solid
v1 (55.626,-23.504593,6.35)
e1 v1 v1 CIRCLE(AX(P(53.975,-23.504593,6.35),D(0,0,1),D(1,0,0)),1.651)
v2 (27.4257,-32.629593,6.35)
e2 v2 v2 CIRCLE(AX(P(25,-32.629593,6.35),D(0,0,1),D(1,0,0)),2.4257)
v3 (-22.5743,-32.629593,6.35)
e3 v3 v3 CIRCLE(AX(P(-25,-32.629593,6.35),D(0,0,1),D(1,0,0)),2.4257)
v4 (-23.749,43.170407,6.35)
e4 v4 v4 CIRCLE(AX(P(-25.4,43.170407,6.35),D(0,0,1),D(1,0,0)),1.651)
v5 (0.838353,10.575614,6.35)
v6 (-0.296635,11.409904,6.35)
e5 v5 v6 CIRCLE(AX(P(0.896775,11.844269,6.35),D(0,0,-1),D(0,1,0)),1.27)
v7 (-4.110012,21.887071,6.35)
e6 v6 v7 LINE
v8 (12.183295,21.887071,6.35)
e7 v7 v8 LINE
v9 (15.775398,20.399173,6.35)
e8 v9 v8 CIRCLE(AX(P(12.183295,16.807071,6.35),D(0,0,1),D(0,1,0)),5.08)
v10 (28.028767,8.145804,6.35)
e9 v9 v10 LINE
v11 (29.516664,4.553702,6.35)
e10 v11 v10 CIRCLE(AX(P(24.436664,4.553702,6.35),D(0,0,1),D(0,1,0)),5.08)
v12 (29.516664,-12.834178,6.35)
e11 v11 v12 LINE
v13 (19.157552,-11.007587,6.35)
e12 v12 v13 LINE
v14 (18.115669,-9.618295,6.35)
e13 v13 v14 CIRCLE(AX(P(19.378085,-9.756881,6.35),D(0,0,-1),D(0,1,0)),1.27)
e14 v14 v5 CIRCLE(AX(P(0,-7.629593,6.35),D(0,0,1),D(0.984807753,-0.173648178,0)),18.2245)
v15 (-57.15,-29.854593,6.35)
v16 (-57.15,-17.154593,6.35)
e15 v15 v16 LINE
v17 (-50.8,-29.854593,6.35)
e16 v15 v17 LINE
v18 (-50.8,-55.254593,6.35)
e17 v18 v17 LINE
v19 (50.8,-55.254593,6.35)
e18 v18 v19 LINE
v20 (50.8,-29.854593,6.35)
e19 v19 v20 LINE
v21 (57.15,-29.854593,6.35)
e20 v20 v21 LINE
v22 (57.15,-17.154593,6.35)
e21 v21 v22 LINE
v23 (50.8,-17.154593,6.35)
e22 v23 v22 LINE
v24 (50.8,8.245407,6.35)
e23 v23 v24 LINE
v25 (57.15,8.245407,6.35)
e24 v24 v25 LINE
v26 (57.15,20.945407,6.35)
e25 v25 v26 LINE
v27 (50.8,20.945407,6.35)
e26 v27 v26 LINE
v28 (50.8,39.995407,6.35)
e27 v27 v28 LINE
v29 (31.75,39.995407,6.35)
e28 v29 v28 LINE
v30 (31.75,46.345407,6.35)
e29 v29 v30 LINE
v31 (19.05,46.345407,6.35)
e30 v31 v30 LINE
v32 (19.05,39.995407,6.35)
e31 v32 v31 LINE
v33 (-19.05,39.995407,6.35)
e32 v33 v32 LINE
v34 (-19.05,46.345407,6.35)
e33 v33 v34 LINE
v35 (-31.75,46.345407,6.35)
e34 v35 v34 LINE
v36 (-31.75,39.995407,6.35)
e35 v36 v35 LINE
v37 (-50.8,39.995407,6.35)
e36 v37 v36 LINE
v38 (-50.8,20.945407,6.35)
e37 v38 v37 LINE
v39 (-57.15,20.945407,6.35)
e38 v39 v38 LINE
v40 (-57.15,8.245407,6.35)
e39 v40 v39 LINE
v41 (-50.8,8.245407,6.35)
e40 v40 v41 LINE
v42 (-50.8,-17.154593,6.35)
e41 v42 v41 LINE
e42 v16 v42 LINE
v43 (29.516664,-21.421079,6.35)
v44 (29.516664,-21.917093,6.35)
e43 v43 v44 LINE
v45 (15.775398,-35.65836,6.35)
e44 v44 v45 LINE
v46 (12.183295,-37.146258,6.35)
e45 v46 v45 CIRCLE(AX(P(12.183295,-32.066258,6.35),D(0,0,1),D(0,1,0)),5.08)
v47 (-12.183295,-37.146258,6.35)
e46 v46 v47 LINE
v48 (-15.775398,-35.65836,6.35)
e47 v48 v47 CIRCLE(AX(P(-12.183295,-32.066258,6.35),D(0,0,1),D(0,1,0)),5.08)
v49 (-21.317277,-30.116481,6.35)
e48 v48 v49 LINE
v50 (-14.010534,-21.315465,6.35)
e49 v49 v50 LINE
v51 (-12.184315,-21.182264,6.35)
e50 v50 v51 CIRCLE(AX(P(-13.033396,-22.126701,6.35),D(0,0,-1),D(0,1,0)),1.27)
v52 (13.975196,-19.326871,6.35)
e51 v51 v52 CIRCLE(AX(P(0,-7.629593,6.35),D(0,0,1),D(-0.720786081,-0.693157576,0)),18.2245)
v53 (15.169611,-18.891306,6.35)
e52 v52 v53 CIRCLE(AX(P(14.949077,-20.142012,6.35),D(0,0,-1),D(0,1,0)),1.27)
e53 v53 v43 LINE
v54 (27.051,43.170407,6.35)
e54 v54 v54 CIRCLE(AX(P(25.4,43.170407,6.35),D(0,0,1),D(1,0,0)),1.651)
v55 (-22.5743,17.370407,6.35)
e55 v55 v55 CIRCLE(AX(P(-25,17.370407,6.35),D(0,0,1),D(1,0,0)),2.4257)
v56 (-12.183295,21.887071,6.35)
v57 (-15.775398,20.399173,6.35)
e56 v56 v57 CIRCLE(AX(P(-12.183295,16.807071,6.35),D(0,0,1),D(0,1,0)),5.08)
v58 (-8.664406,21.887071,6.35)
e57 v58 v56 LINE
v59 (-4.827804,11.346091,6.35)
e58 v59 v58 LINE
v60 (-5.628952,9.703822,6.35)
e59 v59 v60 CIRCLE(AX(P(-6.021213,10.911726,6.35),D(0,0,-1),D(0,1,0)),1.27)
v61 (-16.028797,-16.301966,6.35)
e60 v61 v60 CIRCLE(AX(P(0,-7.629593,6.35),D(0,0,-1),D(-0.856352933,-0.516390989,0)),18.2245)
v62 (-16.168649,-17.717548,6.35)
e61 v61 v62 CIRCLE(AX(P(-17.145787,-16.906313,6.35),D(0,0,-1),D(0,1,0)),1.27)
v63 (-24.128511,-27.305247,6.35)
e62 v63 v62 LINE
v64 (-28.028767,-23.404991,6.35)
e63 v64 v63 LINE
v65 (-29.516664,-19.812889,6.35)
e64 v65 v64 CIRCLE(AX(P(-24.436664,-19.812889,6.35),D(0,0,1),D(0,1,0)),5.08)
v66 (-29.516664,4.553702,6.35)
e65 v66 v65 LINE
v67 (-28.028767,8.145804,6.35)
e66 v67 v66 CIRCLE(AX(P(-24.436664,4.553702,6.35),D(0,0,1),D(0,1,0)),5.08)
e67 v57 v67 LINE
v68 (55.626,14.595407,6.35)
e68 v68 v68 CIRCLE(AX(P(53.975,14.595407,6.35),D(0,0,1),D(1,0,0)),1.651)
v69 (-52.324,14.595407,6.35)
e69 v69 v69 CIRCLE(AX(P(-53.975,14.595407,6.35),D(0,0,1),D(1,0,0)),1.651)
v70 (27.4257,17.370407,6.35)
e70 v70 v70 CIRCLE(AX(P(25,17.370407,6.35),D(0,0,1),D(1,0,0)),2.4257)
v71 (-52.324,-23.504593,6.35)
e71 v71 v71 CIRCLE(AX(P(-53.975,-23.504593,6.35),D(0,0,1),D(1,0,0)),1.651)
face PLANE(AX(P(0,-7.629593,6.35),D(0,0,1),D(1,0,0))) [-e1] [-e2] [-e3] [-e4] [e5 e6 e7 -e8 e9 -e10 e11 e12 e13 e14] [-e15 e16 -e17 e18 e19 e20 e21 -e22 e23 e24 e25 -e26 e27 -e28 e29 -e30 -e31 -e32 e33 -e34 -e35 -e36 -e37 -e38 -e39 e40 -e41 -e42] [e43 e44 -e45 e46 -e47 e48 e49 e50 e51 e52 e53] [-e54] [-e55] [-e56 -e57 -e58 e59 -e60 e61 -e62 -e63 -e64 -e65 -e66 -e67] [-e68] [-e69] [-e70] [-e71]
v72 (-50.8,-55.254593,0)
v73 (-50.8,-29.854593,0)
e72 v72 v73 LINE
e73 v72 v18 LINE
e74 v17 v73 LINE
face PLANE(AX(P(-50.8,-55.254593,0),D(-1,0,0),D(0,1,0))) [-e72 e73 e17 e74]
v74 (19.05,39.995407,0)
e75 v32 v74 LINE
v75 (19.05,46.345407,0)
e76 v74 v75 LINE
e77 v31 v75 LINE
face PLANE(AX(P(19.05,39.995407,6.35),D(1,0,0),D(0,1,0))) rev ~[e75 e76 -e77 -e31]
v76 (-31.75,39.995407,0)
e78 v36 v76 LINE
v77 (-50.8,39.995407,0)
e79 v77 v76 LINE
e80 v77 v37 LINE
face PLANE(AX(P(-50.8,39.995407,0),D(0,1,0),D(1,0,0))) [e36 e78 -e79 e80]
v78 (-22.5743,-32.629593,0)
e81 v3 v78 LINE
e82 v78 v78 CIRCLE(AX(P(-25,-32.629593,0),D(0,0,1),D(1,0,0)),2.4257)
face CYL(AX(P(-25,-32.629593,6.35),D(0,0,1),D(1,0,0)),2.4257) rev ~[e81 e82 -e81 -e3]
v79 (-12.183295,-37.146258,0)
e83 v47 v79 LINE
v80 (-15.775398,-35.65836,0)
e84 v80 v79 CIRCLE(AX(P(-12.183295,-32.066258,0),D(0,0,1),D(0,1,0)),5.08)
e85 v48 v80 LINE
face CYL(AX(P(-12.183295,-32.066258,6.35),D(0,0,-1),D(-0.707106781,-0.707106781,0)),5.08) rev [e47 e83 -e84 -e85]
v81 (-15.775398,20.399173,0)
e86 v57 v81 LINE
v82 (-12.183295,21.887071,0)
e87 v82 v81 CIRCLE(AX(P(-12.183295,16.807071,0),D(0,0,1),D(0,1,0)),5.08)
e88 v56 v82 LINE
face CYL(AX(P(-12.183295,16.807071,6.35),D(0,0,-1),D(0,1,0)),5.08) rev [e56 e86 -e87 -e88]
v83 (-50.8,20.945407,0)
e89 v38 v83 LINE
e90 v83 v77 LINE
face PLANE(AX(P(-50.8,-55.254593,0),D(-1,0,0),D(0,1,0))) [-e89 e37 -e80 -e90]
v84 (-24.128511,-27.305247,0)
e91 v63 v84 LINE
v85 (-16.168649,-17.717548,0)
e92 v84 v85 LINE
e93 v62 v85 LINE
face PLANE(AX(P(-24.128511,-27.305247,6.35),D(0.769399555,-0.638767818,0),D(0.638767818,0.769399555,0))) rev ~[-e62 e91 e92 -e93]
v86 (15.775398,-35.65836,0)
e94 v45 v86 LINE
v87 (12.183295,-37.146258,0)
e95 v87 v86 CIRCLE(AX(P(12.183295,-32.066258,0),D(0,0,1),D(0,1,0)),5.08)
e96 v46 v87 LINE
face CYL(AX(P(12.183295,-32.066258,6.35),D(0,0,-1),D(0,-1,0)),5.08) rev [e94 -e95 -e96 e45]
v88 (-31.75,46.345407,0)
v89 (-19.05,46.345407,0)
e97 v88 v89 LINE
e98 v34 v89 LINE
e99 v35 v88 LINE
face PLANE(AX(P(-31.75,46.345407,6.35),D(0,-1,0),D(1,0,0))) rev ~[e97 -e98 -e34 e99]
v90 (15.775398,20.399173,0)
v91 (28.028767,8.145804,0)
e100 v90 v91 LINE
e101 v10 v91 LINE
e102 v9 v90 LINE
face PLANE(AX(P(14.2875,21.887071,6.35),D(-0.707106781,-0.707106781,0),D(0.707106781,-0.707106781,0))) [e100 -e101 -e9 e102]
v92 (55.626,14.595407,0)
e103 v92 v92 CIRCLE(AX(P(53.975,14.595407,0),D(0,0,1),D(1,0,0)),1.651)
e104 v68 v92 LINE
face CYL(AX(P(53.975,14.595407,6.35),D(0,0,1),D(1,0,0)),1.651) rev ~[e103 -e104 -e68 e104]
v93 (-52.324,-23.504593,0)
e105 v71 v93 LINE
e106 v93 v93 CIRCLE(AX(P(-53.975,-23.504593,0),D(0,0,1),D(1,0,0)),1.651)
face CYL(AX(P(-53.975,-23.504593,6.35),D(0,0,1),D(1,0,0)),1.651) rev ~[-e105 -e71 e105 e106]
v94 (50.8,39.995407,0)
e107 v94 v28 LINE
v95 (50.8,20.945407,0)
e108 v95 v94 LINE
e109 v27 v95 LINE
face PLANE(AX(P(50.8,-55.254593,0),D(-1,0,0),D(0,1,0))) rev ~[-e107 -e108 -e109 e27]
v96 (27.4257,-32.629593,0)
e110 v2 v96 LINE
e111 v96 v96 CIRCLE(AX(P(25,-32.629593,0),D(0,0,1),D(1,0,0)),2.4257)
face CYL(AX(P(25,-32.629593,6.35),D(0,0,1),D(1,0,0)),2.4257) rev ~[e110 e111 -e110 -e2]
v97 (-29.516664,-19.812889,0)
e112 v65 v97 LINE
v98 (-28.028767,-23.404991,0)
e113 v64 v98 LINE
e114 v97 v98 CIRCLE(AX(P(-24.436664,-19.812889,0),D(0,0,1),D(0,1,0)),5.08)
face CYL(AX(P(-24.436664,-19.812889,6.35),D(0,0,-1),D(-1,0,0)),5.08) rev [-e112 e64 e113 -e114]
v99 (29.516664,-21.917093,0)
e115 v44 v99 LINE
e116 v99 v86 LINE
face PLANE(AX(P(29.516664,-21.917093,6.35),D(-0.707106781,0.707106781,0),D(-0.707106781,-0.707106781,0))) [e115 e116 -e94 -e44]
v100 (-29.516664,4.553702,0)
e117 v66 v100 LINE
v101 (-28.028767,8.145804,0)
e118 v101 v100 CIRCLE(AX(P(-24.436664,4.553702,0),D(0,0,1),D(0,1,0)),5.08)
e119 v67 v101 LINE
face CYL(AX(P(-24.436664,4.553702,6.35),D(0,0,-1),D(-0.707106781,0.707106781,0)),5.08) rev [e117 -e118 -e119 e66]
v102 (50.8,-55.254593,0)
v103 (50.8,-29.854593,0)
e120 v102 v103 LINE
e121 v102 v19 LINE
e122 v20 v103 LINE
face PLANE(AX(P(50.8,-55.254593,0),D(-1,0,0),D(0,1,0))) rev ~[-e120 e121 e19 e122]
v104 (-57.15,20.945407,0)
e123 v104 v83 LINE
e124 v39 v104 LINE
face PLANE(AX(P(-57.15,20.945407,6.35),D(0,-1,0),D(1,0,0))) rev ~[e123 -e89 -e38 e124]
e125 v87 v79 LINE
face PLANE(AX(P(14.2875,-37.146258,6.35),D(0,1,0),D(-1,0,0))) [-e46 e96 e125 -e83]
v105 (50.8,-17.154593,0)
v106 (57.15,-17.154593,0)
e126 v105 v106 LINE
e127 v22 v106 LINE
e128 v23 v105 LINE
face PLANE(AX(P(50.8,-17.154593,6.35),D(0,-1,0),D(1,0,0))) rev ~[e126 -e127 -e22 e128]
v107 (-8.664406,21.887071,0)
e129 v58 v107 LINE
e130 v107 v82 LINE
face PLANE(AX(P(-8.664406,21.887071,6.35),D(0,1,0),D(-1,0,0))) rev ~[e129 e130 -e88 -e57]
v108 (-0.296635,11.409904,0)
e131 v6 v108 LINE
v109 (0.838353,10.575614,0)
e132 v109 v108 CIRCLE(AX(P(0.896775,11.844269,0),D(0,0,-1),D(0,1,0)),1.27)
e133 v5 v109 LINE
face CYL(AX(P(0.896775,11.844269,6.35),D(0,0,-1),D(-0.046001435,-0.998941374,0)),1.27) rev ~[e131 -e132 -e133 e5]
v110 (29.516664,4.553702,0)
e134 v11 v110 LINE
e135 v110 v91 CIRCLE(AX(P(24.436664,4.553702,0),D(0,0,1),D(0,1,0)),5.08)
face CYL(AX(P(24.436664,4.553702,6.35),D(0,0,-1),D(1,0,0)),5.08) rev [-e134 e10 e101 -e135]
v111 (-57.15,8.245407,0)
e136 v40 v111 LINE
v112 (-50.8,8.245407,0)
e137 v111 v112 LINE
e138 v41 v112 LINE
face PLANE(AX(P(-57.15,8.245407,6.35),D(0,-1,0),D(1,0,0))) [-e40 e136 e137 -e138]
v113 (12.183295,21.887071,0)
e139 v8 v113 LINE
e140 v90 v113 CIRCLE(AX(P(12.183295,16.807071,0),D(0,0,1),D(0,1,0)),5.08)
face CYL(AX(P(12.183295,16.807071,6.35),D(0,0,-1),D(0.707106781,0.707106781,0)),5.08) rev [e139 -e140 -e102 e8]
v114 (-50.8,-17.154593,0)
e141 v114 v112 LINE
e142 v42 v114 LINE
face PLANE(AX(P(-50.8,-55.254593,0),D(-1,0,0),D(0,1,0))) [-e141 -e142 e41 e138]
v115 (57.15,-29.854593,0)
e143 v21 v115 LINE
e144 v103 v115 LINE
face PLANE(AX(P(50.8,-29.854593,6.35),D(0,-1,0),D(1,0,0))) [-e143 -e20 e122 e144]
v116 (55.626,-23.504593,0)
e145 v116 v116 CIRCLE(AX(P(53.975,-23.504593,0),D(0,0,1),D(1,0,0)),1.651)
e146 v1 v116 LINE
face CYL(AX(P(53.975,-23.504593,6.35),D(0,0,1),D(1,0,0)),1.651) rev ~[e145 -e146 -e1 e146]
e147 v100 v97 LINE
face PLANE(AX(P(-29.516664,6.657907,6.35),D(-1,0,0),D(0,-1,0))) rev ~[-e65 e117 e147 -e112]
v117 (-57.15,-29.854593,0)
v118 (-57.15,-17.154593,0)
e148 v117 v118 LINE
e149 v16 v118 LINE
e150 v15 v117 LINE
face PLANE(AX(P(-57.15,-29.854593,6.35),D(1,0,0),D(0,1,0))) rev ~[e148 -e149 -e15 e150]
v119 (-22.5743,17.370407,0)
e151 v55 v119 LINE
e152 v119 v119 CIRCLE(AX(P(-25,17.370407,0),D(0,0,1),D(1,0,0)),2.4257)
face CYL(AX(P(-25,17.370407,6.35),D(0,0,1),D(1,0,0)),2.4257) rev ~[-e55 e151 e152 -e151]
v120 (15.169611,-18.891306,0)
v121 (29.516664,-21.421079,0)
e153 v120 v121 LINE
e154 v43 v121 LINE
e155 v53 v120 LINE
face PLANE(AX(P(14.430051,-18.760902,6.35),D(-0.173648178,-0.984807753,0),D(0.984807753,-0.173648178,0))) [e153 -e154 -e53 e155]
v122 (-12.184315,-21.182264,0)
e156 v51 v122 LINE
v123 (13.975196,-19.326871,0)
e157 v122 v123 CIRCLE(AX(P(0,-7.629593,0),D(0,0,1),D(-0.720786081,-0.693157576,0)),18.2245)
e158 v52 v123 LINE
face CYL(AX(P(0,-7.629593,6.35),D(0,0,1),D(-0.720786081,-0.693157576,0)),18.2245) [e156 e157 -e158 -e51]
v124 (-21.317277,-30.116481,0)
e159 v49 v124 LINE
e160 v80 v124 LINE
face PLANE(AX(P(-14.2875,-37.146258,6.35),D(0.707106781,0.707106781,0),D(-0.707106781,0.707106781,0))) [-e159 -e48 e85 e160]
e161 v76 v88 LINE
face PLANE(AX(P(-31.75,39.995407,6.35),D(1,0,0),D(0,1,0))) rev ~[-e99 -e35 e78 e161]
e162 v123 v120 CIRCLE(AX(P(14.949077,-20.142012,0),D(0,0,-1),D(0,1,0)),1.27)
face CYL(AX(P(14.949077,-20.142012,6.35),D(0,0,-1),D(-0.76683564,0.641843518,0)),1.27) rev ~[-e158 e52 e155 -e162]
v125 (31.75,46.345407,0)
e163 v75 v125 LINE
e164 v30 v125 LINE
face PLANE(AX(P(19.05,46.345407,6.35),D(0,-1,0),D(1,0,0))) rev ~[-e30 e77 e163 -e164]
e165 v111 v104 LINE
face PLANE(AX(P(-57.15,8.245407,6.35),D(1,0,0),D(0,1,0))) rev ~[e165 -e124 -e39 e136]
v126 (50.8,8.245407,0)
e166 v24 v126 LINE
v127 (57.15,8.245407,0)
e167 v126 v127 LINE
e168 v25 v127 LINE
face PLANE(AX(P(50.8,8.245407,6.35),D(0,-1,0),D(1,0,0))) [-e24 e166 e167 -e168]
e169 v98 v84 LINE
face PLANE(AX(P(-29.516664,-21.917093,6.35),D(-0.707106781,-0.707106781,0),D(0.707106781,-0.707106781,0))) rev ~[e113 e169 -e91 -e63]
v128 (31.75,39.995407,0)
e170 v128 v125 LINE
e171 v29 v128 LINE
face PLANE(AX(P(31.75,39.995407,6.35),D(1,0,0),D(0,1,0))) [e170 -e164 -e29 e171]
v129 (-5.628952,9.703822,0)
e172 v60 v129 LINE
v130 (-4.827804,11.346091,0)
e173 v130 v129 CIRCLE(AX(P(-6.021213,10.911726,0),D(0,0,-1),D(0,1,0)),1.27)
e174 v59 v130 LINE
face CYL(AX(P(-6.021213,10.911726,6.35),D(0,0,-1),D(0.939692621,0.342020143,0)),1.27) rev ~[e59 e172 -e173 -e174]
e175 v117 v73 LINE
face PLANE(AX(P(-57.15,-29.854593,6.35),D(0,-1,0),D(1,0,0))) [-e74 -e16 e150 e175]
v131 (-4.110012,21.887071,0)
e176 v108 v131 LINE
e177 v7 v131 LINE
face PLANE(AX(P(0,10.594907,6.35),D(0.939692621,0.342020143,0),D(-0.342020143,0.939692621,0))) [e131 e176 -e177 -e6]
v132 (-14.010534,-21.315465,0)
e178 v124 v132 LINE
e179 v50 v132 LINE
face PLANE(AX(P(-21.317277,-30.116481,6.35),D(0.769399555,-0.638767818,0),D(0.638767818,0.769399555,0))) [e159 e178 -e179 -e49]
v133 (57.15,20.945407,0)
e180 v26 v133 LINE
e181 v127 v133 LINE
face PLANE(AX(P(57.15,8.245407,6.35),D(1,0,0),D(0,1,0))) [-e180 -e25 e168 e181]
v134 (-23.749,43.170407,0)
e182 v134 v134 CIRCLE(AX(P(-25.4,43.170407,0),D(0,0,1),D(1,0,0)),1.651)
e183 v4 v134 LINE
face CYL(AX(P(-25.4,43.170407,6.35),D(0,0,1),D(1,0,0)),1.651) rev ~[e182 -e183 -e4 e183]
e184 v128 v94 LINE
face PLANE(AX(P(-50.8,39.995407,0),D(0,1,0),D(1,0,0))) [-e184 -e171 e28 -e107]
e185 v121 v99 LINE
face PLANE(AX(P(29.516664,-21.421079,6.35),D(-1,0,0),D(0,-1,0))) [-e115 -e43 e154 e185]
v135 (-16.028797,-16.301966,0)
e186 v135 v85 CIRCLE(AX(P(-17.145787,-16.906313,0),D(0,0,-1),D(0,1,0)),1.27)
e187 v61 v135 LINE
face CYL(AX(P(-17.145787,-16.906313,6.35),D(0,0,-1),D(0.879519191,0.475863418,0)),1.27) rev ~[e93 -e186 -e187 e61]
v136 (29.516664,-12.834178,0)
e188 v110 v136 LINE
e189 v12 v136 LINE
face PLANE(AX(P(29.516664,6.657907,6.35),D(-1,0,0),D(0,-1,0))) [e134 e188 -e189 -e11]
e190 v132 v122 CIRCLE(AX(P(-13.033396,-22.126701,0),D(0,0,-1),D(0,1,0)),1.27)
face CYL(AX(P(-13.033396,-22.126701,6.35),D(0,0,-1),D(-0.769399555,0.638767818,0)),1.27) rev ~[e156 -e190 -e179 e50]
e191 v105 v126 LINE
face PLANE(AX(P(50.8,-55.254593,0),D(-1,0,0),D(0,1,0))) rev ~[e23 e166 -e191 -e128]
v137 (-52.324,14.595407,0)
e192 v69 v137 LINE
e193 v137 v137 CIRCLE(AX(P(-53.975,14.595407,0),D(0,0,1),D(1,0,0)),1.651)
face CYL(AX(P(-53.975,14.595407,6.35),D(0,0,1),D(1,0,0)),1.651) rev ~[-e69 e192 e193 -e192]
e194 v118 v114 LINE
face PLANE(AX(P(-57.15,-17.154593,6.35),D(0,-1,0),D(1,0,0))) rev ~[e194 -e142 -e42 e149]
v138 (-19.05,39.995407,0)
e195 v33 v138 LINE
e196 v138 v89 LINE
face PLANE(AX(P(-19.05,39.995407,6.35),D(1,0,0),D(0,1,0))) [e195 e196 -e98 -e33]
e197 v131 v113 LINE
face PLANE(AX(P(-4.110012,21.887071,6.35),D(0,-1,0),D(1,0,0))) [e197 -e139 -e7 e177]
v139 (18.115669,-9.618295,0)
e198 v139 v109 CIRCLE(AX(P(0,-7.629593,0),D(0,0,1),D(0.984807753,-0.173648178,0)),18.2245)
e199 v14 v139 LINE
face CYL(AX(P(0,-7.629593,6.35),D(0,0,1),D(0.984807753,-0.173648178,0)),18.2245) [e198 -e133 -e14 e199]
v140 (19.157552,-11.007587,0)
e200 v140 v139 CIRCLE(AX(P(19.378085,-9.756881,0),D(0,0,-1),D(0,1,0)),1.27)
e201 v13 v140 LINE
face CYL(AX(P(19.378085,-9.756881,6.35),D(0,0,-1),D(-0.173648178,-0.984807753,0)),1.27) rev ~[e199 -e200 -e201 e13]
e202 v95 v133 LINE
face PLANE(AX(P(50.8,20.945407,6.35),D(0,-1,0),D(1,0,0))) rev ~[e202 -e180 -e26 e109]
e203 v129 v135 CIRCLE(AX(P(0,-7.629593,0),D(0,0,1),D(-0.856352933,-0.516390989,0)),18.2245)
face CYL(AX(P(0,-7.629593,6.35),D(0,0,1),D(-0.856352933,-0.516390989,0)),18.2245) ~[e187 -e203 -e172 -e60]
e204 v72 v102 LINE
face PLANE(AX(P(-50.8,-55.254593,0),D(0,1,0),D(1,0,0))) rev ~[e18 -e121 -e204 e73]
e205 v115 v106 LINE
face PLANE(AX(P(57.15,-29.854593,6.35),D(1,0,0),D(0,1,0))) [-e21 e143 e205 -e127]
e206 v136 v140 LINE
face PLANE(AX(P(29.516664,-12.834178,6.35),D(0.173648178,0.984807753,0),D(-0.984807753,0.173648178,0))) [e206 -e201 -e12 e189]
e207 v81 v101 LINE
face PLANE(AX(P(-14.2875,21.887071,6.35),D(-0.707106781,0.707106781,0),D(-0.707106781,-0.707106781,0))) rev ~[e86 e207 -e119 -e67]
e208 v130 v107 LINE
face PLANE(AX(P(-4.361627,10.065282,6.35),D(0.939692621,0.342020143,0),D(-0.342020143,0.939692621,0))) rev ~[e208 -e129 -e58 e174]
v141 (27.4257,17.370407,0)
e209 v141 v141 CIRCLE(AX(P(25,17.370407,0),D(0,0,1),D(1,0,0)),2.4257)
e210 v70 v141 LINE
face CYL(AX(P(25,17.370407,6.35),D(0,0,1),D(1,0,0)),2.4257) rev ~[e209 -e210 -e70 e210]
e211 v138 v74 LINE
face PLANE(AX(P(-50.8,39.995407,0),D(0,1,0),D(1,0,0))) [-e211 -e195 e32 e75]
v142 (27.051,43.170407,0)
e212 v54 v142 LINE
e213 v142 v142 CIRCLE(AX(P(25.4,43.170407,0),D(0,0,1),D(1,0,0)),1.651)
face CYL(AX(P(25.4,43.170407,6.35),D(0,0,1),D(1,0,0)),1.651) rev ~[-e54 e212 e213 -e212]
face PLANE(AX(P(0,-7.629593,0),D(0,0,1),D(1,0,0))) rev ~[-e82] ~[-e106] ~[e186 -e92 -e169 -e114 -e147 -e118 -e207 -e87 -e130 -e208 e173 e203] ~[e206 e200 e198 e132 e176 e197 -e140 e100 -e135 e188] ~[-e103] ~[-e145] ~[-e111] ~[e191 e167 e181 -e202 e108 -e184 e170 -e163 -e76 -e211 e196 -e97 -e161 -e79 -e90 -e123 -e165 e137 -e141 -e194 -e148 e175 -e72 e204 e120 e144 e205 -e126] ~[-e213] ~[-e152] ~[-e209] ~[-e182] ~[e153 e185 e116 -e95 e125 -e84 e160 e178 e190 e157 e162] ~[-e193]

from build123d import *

# Parameters (mm, degrees)
SKETCH1_W           = 101.6
SKETCH1_H           = 95.25
BOSS_EXTRUDE1_DEPTH = 6.35
SKETCH2_W           = 12.7
SKETCH2_H           = 6.35
SKETCH2_R           = 1.651
SKETCH2_W_2         = 6.35
SKETCH2_H_2         = 12.7
BOSS_EXTRUDE2_DEPTH = 6.35
SKETCH5_R           = 2.4257
CUT_EXTRUDE1_DEPTH  = 80.746567925
FILLET1_R           = 5.08
FILLET2_R           = 1.27


with BuildPart() as part:
    # Sketch1 → Boss-Extrude1 (new body)
    with BuildSketch(Plane.XY):
        with Locations((0, -7.629593436)):
            Rectangle(SKETCH1_W, SKETCH1_H)
    extrude(amount=BOSS_EXTRUDE1_DEPTH)

    # Sketch2 → Boss-Extrude2 (add)
    # profile 1 of 6: a face of its own
    with BuildSketch(Plane.XY.offset(6.35)):
        with Locations((-25.4, 43.170406564)):
            Rectangle(SKETCH2_W, SKETCH2_H)
        with Locations((-25.4, 43.170406564)):
            Circle(SKETCH2_R, mode=Mode.SUBTRACT)
    # profile 2 of 6: a face of its own
    with BuildSketch(Plane.XY.offset(6.35)):
        with Locations((25.4, 43.170406564)):
            Rectangle(SKETCH2_W, SKETCH2_H)
        with Locations((25.4, 43.170406564)):
            Circle(SKETCH2_R, mode=Mode.SUBTRACT)
    # profile 3 of 6: a face of its own
    with BuildSketch(Plane.XY.offset(6.35)):
        with Locations((53.975, 14.595406564)):
            Rectangle(SKETCH2_W_2, SKETCH2_H_2)
        with Locations((53.975, 14.595406564)):
            Circle(SKETCH2_R, mode=Mode.SUBTRACT)
    # profile 4 of 6: a face of its own
    with BuildSketch(Plane.XY.offset(6.35)):
        with Locations((-53.975, 14.595406564)):
            Rectangle(SKETCH2_W_2, SKETCH2_H_2)
        with Locations((-53.975, 14.595406564)):
            Circle(SKETCH2_R, mode=Mode.SUBTRACT)
    # profile 5 of 6: a face of its own
    with BuildSketch(Plane.XY.offset(6.35)):
        with Locations((-53.975, -23.504593436)):
            Rectangle(SKETCH2_W_2, SKETCH2_H_2)
        with Locations((-53.975, -23.504593436)):
            Circle(SKETCH2_R, mode=Mode.SUBTRACT)
    # profile 6 of 6: a face of its own
    with BuildSketch(Plane.XY.offset(6.35)):
        with Locations((53.975, -23.504593436)):
            Rectangle(SKETCH2_W_2, SKETCH2_H_2)
        with Locations((53.975, -23.504593436)):
            Circle(SKETCH2_R, mode=Mode.SUBTRACT)
    extrude(amount=-BOSS_EXTRUDE2_DEPTH)

    # Sketch5 → Cut-Extrude1 (cut, through all)
    with BuildSketch(Plane.XY.offset(6.35)):
        with Locations((-25, 17.370406564)):
            Circle(SKETCH5_R)
        with Locations((25, 17.370406564)):
            Circle(SKETCH5_R)
        with Locations((25, -32.629593436)):
            Circle(SKETCH5_R)
        with Locations((-25, -32.629593436)):
            Circle(SKETCH5_R)
        with BuildLine():
            Line((-24.128510609, -27.305247108), (-15.606604031, -17.040561021))
            ThreePointArc((-15.606604031, -17.040561021), (-16.83342633, -0.646173195), (-4.361627061, 10.065281801))
            Line((-4.361627061, 10.065281801), (-8.664406389, 21.887070846))
            Line((-8.664406389, 21.887070846), (-14.2875, 21.887070846))
            Line((-14.2875, 21.887070846), (-29.516664282, 6.657906564))
            Line((-29.516664282, 6.657906564), (-29.516664282, -21.917093436))
            Line((-29.516664282, -21.917093436), (-24.128510609, -27.305247108))
        make_face()
        with BuildLine():
            Line((-21.317277104, -30.116480614), (-13.135965935, -20.262043681))
            ThreePointArc((-13.135965935, -20.262043681), (0.990969666, -25.827131164), (14.430051116, -18.760901761))
            Line((14.430051116, -18.760901761), (29.516664282, -21.42107871))
            Line((29.516664282, -21.42107871), (29.516664282, -21.917093436))
            Line((29.516664282, -21.917093436), (14.2875, -37.146257718))
            Line((14.2875, -37.146257718), (-14.2875, -37.146257718))
            Line((-14.2875, -37.146257718), (-21.317277104, -30.116480614))
        make_face()
        with BuildLine():
            Line((29.516664282, -12.834177729), (17.947628895, -10.79424465))
            ThreePointArc((17.947628895, -10.79424465), (13.960776954, 4.084889357), (0, 10.594906564))
            Line((0, 10.594906564), (-4.110011679, 21.887070846))
            Line((-4.110011679, 21.887070846), (14.2875, 21.887070846))
            Line((14.2875, 21.887070846), (29.516664282, 6.657906564))
            Line((29.516664282, 6.657906564), (29.516664282, -12.834177729))
        make_face()
    extrude(amount=-CUT_EXTRUDE1_DEPTH, mode=Mode.SUBTRACT)

    # Fillet1
    fillet1_edges = [part.edges().sort_by_distance(p)[0] for p in [
        (-29.516664282, 6.657906564, 3.175),
        (-14.2875, 21.887070846, 3.175),
        (-29.516664282, -21.917093436, 3.175),
        (14.2875, -37.146257718, 3.175),
        (-14.2875, -37.146257718, 3.175),
        (14.2875, 21.887070846, 3.175),
        (29.516664282, 6.657906564, 3.175),
    ]]
    fillet(fillet1_edges, radius=FILLET1_R)

    # Fillet2
    fillet2_edges = [part.edges().sort_by_distance(p)[0] for p in [
        (-4.361627061, 10.065281801, 3.175),
        (-15.606604031, -17.040561021, 3.175),
        (-13.135965935, -20.262043681, 3.175),
        (14.430051116, -18.760901761, 3.175),
        (17.947628895, -10.79424465, 3.175),
        (0, 10.594906564, 3.175),
    ]]
    fillet(fillet2_edges, radius=FILLET2_R)


solid = part.part
